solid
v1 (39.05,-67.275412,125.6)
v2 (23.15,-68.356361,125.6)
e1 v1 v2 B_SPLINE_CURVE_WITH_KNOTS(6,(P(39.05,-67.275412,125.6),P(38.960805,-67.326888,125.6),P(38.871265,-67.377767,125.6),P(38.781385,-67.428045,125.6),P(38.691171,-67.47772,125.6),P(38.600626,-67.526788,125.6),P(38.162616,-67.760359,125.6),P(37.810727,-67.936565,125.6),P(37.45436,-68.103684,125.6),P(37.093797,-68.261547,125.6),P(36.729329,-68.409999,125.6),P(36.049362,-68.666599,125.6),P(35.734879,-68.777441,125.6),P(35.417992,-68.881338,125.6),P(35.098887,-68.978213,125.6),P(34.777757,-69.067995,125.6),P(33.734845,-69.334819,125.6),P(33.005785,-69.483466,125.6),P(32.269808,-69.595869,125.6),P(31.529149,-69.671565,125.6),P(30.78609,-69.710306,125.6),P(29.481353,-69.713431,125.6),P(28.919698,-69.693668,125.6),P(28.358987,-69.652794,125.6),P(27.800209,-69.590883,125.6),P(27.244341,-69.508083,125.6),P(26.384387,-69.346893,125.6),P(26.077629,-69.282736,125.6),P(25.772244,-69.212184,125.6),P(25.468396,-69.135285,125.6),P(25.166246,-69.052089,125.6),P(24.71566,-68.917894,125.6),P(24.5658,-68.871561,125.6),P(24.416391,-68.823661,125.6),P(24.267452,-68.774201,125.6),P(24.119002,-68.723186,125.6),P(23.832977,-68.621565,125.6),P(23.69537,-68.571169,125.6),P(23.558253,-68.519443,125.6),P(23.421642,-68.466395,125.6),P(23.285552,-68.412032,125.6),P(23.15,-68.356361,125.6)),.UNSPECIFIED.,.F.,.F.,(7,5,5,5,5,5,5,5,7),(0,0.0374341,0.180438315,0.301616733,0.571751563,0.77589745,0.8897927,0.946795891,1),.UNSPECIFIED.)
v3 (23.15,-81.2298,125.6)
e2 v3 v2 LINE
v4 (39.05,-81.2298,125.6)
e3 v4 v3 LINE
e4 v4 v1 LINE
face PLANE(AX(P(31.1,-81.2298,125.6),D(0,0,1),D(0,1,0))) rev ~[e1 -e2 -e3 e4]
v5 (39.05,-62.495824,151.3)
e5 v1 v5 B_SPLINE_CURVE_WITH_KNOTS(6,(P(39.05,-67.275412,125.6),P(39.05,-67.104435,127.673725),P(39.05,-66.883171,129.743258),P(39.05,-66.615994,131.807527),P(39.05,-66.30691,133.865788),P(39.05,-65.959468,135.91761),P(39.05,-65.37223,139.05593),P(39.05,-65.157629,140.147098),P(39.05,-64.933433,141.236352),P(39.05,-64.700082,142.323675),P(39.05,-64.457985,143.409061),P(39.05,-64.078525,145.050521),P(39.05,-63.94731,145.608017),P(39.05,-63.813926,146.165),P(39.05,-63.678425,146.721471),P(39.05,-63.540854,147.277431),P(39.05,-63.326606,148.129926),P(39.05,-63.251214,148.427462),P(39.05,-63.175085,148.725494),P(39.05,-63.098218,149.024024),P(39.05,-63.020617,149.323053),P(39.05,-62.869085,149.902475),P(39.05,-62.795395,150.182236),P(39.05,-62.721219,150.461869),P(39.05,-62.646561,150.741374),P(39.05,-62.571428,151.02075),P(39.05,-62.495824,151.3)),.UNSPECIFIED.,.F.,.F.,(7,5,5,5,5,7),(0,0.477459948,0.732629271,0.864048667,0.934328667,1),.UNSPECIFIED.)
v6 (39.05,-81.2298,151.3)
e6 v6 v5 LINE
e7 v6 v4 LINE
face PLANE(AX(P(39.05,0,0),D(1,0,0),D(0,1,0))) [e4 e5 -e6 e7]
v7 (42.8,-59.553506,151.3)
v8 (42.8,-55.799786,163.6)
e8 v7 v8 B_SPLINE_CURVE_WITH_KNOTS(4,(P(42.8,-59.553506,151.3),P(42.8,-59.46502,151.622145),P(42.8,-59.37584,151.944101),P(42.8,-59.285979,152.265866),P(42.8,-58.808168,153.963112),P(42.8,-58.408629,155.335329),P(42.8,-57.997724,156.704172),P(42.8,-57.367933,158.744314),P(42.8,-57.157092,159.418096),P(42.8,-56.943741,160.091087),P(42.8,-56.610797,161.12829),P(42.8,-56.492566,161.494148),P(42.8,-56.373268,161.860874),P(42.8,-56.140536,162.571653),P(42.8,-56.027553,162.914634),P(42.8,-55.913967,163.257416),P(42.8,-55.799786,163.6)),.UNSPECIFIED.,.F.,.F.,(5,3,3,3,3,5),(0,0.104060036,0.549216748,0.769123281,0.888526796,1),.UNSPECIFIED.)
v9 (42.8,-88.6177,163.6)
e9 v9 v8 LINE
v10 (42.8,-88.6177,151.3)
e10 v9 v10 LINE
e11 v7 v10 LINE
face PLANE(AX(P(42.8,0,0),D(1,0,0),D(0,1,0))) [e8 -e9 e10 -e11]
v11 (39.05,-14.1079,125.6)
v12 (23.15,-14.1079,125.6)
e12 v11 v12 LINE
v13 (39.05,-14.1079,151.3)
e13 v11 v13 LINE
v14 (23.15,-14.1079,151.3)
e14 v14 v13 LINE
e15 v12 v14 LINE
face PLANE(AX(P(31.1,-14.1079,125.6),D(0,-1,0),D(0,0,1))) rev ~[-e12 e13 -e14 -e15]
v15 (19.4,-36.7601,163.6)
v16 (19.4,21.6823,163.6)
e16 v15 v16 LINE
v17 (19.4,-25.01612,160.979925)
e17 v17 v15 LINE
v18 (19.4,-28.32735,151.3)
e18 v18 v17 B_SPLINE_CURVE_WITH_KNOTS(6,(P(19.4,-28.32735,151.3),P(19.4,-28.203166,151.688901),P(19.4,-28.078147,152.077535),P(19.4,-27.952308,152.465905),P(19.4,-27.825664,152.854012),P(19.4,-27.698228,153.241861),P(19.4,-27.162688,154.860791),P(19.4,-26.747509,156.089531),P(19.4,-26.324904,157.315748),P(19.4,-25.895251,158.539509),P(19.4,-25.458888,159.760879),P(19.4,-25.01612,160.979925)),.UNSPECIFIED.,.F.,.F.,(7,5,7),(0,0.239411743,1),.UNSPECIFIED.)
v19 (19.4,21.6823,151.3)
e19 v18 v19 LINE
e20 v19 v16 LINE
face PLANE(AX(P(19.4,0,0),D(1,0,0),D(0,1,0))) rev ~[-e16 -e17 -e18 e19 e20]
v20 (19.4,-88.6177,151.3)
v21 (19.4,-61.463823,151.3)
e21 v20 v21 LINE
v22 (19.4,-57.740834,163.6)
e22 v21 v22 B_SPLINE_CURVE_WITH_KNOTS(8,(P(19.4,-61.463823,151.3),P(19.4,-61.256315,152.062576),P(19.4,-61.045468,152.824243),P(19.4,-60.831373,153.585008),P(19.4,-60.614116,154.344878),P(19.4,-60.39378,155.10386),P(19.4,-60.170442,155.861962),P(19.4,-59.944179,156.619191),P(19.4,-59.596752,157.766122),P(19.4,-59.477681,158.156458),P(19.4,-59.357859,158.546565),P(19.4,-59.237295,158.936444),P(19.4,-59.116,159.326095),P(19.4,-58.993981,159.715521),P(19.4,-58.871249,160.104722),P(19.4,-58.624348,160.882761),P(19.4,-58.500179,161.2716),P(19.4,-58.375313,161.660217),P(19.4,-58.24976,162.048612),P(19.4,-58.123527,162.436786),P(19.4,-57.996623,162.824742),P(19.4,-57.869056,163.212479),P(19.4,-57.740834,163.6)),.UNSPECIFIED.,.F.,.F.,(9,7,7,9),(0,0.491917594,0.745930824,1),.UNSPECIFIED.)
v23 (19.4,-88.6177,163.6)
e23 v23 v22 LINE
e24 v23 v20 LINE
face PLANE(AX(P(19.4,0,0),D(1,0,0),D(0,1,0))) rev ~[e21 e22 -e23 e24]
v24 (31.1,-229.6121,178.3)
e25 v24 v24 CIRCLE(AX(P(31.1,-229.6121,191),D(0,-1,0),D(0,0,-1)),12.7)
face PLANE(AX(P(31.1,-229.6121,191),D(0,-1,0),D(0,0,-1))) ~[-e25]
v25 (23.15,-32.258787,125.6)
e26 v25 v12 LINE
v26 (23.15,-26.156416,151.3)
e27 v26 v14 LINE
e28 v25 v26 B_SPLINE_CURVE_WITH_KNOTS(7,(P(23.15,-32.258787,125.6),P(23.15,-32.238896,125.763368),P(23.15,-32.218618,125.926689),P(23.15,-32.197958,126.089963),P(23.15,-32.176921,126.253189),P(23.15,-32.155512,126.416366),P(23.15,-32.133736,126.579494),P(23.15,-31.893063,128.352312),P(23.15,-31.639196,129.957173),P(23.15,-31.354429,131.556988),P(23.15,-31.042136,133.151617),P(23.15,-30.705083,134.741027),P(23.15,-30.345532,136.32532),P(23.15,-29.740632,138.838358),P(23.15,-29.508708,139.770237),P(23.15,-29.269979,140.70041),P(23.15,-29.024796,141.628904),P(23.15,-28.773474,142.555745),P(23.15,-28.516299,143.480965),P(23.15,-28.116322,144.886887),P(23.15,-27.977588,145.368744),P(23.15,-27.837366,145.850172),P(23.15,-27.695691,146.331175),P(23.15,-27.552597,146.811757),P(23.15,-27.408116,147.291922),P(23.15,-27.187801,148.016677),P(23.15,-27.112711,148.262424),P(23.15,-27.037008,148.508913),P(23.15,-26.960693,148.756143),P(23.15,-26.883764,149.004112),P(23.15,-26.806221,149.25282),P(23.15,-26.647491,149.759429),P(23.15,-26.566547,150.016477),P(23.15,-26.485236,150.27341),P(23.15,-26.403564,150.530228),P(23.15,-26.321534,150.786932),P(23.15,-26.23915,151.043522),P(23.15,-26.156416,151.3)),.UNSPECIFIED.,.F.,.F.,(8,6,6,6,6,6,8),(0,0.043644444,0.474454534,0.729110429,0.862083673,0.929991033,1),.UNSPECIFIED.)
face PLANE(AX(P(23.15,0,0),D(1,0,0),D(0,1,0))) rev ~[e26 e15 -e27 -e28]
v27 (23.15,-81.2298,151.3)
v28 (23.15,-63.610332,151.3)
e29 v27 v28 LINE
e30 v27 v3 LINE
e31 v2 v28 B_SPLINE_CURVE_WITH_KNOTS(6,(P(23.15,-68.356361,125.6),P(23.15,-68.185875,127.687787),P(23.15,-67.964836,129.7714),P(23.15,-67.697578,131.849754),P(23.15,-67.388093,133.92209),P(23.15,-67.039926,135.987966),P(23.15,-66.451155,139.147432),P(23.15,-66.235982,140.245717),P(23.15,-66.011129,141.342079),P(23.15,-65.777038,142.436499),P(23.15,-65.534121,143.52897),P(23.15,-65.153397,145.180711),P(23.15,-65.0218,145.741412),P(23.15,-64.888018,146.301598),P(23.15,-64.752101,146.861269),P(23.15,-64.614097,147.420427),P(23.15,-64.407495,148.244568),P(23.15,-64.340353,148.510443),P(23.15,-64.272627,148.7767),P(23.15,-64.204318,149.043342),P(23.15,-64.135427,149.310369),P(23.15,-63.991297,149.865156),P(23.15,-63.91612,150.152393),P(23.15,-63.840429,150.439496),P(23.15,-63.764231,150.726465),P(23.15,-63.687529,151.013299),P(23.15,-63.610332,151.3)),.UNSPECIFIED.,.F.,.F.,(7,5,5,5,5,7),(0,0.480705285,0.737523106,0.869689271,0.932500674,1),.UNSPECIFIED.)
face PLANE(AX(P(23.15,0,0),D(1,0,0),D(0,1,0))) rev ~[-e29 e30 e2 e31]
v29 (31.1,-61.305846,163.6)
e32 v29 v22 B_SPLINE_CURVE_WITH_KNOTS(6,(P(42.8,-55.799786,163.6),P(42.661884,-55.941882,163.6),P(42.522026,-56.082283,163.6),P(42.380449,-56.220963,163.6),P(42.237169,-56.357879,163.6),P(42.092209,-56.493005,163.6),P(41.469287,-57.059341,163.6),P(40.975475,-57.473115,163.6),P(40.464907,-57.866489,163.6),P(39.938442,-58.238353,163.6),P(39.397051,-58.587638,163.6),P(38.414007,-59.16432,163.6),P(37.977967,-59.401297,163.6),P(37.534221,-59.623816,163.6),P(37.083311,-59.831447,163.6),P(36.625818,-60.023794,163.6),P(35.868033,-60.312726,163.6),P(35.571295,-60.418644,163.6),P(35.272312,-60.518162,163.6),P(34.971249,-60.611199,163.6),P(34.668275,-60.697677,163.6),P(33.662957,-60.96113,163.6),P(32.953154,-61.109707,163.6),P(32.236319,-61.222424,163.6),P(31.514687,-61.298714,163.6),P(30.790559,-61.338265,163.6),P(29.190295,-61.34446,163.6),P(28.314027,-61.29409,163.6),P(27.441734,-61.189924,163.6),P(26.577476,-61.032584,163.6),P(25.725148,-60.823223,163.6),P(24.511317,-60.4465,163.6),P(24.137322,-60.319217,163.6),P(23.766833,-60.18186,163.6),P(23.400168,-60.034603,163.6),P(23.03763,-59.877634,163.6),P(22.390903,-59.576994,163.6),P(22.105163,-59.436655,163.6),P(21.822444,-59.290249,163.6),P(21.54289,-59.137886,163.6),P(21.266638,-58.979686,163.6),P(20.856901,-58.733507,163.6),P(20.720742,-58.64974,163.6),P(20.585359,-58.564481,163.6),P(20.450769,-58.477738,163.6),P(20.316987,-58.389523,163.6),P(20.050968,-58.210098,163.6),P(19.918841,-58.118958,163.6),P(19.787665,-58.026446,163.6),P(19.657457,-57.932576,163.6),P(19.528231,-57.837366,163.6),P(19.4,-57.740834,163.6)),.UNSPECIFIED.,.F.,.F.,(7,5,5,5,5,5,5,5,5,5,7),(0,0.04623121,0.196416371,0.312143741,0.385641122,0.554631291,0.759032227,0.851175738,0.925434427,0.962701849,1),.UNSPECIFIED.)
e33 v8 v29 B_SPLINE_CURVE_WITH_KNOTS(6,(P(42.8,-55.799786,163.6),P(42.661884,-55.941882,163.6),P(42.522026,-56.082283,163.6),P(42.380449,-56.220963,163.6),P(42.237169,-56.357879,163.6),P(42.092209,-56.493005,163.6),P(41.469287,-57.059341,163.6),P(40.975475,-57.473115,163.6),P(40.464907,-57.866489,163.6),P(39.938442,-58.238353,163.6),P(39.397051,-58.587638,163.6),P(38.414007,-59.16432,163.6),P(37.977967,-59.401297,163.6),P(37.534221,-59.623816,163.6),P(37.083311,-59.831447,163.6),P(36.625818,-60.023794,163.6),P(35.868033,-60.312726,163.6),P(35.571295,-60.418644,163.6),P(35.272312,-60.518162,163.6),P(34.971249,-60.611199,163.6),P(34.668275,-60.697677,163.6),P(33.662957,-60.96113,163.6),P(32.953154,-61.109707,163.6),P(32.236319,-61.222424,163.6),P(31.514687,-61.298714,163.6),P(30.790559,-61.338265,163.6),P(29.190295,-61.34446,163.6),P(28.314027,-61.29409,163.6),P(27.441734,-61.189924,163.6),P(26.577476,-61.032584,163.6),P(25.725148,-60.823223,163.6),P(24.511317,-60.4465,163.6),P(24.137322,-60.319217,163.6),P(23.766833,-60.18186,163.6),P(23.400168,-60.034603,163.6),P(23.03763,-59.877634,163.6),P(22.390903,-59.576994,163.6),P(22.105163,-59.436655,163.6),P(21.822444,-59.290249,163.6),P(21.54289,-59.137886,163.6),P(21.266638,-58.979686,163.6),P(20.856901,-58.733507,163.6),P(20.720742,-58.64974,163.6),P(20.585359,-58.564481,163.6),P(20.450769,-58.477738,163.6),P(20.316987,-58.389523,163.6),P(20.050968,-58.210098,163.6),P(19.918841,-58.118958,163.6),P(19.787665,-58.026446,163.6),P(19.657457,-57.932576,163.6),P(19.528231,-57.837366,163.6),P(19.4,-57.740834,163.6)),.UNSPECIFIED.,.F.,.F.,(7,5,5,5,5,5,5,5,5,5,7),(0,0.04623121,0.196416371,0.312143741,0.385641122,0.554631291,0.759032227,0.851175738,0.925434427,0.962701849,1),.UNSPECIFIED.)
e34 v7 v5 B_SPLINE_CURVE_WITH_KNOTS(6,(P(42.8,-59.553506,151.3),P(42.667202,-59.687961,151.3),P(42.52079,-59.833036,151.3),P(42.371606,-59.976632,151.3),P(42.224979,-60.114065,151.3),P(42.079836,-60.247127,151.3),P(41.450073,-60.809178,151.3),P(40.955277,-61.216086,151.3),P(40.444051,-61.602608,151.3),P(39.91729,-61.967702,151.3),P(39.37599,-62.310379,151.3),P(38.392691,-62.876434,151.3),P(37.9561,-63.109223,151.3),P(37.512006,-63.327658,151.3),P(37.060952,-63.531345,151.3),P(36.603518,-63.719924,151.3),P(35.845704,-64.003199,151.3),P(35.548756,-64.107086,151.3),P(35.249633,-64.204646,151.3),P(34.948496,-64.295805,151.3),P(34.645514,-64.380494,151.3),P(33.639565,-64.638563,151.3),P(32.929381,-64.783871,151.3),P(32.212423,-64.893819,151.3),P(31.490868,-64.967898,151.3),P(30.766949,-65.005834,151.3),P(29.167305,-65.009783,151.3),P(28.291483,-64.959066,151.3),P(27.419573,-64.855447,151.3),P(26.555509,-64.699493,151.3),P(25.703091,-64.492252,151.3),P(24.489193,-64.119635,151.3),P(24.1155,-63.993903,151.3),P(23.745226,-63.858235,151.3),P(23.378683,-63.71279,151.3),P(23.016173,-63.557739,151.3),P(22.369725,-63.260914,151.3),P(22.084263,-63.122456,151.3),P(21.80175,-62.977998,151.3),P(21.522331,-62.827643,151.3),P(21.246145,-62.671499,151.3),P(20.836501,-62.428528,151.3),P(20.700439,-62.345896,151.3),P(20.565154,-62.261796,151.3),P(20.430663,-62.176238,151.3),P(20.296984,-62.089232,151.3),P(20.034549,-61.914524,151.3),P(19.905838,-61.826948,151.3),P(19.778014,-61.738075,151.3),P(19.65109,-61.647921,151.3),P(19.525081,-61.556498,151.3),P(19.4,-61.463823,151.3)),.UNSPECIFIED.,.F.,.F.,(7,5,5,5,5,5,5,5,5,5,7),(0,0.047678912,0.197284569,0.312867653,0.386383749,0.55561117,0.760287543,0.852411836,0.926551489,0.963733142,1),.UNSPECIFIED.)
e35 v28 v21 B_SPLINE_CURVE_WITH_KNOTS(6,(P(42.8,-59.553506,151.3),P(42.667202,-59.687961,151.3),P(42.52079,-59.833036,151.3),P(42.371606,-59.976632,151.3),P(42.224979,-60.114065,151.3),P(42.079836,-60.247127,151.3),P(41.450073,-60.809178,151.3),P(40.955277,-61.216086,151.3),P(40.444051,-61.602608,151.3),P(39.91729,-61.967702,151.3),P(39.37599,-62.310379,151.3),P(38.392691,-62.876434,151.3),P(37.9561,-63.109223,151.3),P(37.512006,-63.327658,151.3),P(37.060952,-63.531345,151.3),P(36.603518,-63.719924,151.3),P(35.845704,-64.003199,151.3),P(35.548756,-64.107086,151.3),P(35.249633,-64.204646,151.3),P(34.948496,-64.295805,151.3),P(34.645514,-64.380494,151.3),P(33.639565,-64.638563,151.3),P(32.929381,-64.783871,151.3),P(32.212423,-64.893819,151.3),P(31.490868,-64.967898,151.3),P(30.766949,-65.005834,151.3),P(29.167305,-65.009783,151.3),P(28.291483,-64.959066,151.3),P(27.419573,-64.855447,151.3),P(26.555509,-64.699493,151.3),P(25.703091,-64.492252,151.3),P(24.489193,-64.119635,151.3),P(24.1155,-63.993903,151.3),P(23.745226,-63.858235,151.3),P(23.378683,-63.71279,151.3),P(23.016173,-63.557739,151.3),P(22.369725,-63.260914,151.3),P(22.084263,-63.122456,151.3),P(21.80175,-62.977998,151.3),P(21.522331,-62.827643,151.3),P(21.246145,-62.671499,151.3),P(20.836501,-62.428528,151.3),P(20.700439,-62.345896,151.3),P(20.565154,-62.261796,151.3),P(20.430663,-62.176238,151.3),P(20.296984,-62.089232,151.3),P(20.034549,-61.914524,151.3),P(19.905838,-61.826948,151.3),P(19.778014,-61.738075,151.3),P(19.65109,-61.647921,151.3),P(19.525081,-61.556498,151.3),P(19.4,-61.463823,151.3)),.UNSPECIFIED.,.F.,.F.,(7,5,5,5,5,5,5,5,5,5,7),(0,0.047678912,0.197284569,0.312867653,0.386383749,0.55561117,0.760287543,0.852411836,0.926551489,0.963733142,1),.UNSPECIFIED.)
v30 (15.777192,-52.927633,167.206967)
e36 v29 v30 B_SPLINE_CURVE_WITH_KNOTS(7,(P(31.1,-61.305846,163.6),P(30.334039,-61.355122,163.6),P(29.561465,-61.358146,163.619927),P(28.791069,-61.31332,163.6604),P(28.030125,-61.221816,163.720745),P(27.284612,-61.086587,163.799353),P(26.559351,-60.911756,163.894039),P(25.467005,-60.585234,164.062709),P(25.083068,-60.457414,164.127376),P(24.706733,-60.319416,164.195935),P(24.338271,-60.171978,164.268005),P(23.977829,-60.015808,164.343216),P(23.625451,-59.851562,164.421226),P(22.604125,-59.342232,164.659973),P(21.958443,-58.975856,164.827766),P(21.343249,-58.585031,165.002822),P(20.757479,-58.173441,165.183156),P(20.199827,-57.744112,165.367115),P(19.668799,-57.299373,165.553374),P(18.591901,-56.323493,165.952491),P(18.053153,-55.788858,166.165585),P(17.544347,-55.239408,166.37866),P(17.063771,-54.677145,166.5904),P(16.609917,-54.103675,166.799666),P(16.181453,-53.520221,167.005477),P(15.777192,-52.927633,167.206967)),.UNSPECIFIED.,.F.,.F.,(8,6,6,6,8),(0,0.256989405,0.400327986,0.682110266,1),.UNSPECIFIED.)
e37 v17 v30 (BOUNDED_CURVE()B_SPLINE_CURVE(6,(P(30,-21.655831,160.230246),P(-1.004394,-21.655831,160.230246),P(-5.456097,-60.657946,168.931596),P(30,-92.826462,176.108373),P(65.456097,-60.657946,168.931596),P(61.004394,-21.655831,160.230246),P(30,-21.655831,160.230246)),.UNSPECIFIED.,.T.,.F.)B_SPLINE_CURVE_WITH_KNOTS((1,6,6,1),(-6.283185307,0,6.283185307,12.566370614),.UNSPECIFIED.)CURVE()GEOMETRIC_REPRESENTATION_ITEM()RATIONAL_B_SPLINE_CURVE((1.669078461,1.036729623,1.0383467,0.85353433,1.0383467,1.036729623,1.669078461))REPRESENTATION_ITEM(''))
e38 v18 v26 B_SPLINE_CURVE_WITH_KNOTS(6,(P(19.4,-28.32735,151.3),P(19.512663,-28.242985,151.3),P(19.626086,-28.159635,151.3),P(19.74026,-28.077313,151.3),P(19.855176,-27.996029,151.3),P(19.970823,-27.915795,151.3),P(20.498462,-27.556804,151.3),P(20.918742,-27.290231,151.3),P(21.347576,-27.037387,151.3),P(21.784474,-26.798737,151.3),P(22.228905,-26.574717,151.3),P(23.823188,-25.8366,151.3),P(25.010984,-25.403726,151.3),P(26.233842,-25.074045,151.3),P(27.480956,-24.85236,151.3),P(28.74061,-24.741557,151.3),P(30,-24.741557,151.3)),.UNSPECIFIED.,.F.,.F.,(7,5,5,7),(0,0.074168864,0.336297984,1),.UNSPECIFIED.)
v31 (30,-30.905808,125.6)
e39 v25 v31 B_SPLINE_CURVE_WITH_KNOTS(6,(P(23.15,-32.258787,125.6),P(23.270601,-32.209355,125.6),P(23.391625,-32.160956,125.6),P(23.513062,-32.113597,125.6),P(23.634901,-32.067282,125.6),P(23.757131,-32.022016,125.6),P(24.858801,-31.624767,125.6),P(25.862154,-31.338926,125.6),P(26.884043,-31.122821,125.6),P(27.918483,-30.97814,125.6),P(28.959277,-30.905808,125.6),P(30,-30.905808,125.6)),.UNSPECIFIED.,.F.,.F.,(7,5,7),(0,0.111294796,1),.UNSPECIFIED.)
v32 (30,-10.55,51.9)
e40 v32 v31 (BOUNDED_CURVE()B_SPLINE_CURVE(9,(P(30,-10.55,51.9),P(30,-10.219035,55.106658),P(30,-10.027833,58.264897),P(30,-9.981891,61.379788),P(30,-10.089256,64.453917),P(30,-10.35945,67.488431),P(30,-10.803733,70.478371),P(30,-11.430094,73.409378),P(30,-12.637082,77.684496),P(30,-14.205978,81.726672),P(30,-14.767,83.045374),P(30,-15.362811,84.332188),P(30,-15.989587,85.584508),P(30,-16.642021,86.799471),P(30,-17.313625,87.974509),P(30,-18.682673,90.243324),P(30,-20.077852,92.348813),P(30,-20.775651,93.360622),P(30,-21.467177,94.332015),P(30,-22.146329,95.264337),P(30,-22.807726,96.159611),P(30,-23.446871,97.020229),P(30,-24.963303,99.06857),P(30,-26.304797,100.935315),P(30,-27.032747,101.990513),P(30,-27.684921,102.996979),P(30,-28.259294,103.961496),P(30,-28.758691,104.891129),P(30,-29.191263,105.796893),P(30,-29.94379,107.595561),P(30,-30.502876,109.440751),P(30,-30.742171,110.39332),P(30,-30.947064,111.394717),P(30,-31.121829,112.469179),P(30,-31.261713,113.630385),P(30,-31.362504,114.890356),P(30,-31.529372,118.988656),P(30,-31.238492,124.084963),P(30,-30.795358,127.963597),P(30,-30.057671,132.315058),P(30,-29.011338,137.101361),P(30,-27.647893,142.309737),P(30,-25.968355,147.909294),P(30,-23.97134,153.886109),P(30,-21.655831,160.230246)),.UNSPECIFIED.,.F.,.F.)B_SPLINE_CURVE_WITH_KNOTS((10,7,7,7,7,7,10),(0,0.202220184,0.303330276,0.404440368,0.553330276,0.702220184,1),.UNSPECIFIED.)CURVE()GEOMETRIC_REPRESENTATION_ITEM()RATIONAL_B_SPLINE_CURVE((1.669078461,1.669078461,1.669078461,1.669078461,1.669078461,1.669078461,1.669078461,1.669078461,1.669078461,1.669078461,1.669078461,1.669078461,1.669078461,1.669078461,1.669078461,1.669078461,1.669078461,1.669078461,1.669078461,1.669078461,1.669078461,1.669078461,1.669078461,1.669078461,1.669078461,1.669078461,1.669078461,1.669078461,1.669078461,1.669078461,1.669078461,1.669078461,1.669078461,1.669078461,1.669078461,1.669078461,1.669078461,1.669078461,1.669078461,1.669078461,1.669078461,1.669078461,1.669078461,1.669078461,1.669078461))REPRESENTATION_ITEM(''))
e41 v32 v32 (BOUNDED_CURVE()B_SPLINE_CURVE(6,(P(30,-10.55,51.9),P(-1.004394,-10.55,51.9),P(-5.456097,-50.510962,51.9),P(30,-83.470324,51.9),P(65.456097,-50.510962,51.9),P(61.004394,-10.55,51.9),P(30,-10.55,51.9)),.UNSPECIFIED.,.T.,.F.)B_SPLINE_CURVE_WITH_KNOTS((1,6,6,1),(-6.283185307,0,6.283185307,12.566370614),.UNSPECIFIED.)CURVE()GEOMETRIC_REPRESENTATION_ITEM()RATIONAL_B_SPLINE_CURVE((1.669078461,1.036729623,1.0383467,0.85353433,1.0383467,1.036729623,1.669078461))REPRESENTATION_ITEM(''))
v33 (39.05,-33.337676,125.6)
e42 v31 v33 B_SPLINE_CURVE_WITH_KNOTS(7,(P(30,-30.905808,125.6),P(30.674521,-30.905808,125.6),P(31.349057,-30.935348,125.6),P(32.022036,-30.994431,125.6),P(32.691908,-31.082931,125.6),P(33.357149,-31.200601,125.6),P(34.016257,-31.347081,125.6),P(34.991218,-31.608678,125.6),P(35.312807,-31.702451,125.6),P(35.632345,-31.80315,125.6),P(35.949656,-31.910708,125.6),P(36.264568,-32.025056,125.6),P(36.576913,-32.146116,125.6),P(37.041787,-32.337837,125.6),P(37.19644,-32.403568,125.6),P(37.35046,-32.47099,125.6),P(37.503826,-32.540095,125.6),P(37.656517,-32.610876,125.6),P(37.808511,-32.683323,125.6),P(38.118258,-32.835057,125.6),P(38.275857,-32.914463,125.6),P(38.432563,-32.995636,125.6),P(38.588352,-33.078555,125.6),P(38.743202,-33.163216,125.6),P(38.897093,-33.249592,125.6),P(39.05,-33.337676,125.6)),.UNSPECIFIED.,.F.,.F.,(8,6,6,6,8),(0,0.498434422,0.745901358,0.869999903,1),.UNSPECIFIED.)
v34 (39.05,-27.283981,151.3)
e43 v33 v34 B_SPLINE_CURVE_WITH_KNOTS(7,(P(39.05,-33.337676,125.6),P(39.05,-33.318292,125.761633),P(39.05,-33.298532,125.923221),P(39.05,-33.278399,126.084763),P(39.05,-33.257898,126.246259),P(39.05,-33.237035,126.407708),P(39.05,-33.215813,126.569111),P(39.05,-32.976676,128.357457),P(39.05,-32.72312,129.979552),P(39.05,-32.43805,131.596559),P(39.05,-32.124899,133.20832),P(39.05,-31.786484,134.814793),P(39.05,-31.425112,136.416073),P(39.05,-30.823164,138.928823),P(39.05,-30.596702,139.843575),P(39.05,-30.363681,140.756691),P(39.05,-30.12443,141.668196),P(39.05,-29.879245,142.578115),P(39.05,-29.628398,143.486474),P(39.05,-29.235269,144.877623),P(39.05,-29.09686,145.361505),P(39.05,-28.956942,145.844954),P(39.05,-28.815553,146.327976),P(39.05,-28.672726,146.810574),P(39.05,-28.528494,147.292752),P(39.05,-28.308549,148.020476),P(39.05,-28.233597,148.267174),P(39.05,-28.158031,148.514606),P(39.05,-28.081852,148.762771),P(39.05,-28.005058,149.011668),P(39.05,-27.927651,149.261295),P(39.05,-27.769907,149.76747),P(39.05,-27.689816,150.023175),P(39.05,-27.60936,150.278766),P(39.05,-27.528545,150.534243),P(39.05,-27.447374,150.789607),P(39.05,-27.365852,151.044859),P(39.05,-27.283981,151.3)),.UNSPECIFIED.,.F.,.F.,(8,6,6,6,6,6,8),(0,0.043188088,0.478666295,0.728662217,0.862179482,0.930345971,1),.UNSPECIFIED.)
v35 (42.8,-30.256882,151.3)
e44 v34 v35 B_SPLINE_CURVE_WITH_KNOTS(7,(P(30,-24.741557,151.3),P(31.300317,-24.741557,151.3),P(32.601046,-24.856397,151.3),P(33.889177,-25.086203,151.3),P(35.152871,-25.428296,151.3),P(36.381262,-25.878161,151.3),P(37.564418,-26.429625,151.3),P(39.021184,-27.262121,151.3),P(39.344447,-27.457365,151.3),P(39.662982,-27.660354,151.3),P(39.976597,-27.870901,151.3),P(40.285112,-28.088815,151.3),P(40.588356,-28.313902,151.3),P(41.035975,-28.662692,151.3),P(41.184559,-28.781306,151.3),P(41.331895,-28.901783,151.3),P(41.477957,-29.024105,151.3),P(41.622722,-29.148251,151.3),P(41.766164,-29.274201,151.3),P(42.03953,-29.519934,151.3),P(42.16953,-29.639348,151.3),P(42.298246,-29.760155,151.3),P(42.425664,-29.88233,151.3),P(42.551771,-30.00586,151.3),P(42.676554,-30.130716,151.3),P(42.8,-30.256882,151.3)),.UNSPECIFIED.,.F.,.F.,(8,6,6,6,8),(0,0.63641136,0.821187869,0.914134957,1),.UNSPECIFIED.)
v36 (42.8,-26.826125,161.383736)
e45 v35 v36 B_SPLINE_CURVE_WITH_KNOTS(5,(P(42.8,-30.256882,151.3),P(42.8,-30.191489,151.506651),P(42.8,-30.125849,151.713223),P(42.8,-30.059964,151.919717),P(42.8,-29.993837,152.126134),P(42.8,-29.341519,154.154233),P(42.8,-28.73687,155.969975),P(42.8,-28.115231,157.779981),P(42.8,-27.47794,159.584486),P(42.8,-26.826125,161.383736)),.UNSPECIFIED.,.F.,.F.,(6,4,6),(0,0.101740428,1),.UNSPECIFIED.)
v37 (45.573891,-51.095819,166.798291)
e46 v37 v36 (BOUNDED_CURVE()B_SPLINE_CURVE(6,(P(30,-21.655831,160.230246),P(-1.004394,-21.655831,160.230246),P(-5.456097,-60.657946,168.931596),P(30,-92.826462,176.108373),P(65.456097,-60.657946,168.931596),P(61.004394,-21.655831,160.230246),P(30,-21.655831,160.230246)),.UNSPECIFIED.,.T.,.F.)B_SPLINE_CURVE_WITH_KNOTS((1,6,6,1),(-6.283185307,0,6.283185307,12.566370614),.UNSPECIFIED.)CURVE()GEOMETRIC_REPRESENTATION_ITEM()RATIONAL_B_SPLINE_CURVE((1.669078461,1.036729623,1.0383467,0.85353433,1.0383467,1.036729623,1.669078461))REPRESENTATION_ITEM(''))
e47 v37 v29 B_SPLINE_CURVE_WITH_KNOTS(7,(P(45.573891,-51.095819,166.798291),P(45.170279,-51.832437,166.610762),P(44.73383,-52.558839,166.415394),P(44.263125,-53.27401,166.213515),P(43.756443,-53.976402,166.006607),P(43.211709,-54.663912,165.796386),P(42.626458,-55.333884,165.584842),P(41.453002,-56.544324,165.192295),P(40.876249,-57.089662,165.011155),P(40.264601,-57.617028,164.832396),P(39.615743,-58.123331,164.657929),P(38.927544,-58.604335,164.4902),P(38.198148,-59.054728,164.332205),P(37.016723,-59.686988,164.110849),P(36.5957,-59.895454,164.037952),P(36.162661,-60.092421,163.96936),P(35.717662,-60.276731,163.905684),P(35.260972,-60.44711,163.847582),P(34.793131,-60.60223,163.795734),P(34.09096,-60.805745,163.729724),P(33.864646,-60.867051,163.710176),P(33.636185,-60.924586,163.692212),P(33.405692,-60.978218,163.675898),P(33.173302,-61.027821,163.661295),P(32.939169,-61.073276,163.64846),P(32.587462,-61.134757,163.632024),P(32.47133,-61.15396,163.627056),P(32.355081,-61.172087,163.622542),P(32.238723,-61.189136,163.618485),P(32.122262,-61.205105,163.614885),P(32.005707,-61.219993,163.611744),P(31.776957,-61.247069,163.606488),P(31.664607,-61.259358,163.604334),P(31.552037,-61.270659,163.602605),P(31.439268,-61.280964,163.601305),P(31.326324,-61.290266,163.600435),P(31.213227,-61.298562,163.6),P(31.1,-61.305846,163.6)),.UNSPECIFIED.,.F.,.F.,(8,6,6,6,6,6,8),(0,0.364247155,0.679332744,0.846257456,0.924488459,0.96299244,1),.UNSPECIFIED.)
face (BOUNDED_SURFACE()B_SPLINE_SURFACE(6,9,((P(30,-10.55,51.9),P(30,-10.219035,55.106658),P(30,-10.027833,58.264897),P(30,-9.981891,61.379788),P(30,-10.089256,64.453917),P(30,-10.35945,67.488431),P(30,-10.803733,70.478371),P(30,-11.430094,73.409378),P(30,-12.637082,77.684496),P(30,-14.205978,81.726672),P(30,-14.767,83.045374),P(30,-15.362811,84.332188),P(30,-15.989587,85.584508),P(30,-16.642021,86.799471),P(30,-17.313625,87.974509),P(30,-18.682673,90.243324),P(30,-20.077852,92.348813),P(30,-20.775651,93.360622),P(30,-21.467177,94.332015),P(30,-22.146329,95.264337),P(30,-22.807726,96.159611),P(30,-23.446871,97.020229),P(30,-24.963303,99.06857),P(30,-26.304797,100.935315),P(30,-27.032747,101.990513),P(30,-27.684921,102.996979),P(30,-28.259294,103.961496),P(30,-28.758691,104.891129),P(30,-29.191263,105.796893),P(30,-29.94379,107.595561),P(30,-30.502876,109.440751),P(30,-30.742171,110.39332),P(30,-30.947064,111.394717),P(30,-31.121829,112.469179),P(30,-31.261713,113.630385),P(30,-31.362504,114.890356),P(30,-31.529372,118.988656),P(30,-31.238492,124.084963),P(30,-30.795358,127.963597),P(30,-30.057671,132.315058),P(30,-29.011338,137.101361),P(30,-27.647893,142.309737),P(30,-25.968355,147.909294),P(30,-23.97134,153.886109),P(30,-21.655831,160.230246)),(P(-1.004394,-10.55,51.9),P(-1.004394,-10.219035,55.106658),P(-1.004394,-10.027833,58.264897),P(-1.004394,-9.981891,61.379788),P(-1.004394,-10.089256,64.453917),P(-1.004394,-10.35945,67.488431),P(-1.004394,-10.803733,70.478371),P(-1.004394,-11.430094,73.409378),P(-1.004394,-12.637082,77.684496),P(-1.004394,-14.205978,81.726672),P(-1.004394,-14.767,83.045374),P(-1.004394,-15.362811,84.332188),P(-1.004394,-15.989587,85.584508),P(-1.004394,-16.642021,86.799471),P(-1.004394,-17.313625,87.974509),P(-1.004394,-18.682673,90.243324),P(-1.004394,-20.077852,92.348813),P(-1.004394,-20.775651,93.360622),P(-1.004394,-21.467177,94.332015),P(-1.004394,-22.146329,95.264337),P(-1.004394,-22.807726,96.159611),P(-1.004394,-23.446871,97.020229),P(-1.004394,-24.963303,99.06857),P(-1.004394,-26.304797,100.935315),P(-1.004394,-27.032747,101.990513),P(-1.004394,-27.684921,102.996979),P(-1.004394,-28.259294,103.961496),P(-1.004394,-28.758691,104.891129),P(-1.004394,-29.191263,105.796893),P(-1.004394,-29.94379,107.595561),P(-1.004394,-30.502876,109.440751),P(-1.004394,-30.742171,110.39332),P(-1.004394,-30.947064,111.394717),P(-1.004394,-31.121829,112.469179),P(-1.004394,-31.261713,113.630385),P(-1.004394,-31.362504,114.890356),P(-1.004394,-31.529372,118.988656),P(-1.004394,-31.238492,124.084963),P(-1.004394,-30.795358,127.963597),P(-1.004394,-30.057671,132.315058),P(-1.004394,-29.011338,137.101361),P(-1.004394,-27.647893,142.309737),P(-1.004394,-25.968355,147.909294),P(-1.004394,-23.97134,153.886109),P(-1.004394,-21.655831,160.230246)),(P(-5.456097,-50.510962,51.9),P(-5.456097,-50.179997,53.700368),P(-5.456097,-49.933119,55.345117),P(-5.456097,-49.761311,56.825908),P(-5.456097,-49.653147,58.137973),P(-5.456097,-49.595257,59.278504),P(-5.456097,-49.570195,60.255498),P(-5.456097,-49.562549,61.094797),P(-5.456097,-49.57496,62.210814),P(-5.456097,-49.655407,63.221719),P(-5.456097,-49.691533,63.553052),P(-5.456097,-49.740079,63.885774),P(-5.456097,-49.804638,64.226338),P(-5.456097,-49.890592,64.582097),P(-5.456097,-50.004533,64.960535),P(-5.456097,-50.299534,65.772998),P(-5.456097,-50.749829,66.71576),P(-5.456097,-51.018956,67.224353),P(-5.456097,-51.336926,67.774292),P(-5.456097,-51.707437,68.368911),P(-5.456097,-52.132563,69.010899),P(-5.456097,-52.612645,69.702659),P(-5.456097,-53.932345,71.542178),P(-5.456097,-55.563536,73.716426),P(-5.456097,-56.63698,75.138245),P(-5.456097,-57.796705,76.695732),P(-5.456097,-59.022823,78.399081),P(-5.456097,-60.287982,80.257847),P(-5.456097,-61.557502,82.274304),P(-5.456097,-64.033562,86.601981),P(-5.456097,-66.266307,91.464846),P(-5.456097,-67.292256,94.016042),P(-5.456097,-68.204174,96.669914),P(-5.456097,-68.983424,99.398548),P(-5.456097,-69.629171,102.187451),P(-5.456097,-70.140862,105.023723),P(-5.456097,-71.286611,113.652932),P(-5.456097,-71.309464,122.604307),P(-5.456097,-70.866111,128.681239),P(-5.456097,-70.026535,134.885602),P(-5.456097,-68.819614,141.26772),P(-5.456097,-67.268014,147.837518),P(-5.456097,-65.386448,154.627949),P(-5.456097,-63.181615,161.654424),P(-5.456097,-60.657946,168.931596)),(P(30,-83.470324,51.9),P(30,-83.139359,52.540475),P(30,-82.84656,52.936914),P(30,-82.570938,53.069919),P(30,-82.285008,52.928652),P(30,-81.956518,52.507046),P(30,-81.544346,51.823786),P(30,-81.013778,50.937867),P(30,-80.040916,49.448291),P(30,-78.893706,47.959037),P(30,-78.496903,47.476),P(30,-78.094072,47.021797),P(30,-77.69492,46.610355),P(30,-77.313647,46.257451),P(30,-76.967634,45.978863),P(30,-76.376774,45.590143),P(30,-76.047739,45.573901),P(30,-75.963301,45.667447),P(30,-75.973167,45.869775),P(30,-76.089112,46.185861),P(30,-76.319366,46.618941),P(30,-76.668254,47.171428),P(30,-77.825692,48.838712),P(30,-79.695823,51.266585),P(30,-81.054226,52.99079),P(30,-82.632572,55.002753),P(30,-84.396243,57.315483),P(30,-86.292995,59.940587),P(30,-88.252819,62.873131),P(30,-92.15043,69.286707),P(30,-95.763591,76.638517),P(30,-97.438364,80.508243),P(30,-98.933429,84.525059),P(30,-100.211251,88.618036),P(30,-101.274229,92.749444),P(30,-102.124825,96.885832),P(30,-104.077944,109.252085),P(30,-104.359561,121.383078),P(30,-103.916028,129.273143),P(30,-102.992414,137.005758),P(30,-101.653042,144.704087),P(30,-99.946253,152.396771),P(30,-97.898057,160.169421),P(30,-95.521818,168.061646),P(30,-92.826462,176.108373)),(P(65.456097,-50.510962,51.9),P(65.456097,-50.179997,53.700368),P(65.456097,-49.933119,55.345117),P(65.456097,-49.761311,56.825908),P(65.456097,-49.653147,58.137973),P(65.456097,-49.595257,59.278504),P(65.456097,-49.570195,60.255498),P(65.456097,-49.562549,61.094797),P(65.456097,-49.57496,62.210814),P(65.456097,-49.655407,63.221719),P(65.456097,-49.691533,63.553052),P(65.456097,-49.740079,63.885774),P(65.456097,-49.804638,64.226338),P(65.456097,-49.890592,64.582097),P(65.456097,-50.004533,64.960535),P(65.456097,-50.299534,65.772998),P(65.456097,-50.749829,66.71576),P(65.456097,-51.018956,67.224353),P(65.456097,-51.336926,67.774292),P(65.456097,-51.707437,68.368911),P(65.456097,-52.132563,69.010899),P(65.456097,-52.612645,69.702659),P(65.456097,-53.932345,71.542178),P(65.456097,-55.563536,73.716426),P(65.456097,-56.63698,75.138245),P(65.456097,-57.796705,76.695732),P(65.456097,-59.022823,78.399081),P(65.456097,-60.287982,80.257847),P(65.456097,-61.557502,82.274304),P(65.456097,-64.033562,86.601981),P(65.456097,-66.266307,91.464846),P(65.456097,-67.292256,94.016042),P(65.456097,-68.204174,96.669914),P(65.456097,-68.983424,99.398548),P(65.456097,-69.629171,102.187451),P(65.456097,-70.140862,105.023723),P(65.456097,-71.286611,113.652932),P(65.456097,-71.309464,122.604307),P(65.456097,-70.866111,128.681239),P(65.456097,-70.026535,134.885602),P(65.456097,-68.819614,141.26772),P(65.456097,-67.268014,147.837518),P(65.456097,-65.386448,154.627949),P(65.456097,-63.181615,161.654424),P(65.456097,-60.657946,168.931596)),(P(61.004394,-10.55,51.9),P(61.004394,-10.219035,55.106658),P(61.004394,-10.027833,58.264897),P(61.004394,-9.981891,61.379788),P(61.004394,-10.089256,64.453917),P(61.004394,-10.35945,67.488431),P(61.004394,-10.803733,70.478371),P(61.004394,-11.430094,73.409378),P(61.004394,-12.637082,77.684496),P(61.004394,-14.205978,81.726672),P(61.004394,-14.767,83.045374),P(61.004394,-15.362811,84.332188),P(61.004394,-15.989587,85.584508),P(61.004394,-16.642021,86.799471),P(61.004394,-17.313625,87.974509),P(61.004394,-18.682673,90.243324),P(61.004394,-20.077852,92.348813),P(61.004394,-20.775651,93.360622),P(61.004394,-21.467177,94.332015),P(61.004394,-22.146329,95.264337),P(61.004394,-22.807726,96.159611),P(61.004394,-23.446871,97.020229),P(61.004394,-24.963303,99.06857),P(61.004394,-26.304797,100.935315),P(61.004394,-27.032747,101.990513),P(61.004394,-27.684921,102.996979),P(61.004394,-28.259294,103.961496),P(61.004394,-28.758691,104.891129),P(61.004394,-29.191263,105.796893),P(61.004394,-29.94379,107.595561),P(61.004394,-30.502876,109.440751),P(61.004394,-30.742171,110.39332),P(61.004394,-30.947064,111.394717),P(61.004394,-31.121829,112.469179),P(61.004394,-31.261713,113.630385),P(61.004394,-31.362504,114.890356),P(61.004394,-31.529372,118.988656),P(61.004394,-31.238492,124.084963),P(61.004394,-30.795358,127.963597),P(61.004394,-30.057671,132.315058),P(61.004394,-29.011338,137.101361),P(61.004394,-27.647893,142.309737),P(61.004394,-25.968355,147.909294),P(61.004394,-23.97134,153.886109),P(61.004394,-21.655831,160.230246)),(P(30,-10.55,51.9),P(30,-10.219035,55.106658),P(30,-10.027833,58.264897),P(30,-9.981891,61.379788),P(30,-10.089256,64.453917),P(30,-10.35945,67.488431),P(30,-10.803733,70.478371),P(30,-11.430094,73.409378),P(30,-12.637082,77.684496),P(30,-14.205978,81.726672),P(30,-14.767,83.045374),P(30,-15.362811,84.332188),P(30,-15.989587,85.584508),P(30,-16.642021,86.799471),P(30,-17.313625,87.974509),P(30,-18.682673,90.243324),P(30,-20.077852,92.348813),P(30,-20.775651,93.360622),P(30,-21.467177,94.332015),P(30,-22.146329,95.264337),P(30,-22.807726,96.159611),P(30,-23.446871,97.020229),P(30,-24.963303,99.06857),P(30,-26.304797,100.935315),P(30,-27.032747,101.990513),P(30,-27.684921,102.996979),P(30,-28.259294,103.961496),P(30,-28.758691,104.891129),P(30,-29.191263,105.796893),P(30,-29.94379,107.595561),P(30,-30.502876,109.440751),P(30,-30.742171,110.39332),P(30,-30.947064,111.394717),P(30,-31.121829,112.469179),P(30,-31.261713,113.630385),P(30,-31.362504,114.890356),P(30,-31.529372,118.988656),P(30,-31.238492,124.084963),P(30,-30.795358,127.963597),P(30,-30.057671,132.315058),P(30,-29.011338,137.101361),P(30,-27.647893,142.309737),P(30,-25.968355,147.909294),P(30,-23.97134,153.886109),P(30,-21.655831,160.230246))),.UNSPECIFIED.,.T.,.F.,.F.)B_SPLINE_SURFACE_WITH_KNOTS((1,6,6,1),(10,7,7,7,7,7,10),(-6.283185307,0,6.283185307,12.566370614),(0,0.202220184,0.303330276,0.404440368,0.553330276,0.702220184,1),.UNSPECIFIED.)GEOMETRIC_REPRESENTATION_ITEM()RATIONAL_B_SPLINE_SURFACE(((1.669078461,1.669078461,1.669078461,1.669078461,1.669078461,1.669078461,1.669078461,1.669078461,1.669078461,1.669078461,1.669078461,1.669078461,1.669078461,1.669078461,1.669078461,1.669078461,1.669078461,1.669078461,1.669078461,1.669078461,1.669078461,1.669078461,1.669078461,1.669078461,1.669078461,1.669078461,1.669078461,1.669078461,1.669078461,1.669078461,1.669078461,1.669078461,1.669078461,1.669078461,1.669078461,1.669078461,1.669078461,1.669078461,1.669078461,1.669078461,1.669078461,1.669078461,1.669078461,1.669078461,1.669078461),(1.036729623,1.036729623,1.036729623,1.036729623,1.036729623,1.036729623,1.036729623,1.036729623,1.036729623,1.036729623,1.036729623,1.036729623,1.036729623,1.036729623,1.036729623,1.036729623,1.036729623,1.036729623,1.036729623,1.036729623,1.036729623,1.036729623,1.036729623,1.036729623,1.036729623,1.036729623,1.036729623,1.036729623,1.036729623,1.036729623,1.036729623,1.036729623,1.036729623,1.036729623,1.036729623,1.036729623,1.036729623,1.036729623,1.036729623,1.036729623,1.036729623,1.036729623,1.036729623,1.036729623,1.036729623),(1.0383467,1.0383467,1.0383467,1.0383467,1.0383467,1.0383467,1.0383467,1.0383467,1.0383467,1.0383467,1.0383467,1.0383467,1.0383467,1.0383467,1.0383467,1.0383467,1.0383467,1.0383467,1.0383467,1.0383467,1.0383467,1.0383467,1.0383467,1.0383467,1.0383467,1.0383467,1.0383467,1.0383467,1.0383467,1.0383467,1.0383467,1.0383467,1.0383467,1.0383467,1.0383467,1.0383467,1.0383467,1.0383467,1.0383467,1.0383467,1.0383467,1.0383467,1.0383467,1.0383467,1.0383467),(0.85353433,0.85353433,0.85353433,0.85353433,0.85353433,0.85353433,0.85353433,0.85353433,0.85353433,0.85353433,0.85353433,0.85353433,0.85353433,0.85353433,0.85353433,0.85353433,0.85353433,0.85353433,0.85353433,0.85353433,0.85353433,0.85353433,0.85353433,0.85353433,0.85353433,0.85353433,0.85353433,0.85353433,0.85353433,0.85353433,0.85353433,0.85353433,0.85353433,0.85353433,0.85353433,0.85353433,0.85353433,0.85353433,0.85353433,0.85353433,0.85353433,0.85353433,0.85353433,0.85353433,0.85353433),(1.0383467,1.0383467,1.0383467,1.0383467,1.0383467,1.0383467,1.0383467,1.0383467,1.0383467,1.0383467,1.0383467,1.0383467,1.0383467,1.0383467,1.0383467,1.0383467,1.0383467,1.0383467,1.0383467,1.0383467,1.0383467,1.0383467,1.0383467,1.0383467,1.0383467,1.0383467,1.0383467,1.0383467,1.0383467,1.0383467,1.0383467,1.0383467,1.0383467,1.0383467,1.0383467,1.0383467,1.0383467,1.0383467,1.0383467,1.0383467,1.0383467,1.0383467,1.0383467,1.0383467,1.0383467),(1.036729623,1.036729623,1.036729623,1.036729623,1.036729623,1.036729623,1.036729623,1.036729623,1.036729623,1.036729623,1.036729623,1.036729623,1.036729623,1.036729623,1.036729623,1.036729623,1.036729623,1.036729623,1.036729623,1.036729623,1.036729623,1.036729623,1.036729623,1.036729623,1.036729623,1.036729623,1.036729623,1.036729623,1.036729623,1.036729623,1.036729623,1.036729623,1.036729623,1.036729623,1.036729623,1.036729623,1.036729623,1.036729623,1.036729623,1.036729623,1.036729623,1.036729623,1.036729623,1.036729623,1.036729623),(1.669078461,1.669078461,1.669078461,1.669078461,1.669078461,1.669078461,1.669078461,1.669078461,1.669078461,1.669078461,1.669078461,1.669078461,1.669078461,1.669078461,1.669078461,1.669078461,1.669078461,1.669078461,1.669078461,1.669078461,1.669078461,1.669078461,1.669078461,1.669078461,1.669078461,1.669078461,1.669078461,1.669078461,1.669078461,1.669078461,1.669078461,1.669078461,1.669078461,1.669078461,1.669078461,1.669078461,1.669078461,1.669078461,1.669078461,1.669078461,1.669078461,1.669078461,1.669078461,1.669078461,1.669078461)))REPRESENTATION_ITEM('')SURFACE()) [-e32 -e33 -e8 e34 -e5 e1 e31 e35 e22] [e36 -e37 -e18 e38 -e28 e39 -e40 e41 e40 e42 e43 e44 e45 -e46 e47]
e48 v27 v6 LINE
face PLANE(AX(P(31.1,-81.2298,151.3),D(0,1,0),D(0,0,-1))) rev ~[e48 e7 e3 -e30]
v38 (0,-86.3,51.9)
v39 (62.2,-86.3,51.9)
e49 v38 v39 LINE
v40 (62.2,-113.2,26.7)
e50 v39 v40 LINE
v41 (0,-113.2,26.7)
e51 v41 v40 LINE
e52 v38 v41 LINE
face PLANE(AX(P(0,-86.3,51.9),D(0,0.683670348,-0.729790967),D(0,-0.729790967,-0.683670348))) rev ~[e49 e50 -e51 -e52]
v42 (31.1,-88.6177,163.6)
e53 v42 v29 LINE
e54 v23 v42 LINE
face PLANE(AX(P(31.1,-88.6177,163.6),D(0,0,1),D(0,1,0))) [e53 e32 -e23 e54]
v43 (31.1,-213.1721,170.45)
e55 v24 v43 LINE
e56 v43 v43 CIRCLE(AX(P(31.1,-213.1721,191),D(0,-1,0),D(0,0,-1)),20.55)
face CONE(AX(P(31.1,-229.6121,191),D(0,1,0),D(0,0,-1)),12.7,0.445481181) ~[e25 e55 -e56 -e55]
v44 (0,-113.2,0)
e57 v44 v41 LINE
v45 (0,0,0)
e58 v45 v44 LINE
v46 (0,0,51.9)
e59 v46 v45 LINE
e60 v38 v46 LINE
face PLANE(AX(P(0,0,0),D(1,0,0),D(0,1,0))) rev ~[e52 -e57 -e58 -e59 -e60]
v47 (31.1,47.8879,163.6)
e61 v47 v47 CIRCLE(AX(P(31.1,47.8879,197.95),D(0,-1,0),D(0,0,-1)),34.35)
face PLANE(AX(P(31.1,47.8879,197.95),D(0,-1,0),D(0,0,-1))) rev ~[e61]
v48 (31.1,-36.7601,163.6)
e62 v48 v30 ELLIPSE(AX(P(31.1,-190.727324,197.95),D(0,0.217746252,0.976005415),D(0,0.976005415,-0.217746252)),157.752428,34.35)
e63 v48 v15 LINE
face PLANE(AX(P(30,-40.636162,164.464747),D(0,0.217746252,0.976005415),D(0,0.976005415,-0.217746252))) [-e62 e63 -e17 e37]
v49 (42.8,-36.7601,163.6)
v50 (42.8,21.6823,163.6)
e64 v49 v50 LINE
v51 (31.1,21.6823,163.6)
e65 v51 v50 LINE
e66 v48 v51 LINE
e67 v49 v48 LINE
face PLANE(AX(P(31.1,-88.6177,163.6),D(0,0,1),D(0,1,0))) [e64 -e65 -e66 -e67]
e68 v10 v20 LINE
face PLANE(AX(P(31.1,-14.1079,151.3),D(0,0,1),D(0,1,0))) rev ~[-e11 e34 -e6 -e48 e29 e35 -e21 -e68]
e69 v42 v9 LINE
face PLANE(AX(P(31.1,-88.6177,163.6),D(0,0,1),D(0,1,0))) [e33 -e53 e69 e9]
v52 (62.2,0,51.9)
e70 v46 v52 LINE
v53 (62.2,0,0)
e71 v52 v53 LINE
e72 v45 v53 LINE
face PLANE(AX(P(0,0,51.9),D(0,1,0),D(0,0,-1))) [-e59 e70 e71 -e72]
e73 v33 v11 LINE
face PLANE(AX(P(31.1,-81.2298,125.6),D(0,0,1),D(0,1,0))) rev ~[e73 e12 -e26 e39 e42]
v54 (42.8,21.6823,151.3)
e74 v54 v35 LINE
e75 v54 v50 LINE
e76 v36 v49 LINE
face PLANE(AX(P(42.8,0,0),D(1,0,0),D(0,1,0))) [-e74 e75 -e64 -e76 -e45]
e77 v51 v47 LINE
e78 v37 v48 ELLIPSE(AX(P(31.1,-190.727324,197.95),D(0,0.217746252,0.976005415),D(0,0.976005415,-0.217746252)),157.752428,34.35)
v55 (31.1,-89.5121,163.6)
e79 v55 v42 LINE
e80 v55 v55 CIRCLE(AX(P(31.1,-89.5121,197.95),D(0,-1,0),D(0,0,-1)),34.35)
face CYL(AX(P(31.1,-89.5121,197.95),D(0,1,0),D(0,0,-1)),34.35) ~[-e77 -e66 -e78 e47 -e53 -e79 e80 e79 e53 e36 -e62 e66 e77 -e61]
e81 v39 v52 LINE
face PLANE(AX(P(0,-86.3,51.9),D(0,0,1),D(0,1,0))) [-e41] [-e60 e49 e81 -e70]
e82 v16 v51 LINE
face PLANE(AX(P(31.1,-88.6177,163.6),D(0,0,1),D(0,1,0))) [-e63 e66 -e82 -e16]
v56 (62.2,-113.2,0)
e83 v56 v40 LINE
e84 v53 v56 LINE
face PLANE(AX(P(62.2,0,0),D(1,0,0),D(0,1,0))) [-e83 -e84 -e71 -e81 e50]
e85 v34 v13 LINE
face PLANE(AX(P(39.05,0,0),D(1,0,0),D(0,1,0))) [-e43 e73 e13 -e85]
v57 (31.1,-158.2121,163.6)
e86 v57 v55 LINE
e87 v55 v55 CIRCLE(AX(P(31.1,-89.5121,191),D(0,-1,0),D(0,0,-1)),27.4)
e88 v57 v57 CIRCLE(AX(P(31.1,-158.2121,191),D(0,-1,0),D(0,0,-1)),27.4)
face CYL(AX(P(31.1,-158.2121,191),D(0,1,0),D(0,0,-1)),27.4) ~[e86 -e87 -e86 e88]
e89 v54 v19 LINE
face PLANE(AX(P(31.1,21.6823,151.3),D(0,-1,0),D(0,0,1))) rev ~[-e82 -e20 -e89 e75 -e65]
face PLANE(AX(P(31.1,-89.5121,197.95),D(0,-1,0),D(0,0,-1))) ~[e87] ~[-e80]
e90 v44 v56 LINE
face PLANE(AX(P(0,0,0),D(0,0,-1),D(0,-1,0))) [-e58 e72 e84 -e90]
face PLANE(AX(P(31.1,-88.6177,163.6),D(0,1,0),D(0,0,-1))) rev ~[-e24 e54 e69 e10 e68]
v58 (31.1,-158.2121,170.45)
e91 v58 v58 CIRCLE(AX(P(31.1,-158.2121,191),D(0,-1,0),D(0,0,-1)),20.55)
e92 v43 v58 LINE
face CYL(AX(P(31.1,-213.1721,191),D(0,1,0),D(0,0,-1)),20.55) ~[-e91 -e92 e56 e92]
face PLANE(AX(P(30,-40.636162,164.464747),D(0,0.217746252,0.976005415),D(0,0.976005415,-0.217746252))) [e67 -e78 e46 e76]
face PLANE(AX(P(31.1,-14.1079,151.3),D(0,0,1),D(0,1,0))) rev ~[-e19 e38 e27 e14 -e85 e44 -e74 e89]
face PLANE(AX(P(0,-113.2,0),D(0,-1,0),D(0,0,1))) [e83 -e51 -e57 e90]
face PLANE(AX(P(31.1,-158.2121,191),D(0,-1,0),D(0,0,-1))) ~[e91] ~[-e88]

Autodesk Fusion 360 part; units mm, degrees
sketch "Sketch2" plane through (0, 0, 0) normal (1, 0, 0) x (0, 1, 0)
  line L0 (0, 0) -> (-113.2, 0)
  line L1 (-113.2, 0) -> (-113.2, 26.7)
  line L2 (-86.3, 51.9) -> (0, 51.9)
  line L3 (0, 51.9) -> (0, 0)
  line L4 (-86.3, 51.9) -> (-113.2, 26.7)
  dimension "d1" = 113.2
  dimension "d2" = 51.9
  dimension "d3" = 86.3
  dimension "d4" = 26.7
extrude "Extrude1" add sketch "Sketch2" along normal blind 62.2 makes body 1
ref_plane "WorkPlane1" through (31.1, 0, 0) normal (1, 0, 0) x (0, 1, 0)
sketch "Sketch3" plane through (31.1, 0, 0) normal (1, 0, 0) x (0, 1, 0)
  line L0 (47.8879, 197.95) -> (-89.5121, 197.95)
  line L1 (-89.5121, 197.95) -> (-89.5121, 163.6)
  line L2 (-89.5121, 163.6) -> (47.8879, 163.6)
  line L3 (47.8879, 163.6) -> (47.8879, 197.95)
  line L4 (0, 51.9) -> (0, 0)
  line L5 (-86.3, 51.9) -> (0, 51.9)
  line L6 (-89.5121, 191) -> (-158.2121, 191)
  line L7 (-158.2121, 191) -> (-158.2121, 163.6)
  line L8 (-158.2121, 163.6) -> (-89.5121, 163.6)
  line L9 (-89.5121, 163.6) -> (-89.5121, 191)
  line L10 (-89.5121, 177.3) -> (-158.2121, 177.3) construction
  line L11 (-158.2121, 191) -> (-213.1721, 191)
  line L12 (-213.1721, 191) -> (-213.1721, 170.45)
  line L13 (-213.1721, 170.45) -> (-158.2121, 170.45)
  line L14 (-158.2121, 170.45) -> (-158.2121, 191)
  line L15 (-213.1721, 170.45) -> (-213.1721, 191)
  line L16 (-213.1721, 191) -> (-229.6121, 191)
  line L17 (-229.6121, 191) -> (-229.6121, 178.3)
  line L18 (-229.6121, 178.3) -> (-213.1721, 170.45)
  spline S0 degree 5 poles (-26.0256, 51.9) (-25.8292, 53.4797) (-25.5289, 56.5687) (-25.3557, 60.9909) (-25.6831, 66.462) (-27.0217, 72.5971) (-29.2397, 78.079) (-32.2063, 83.0319) (-35.6533, 87.7033) (-39.2005, 92.4405) (-42.4377, 97.6159) (-44.9819, 103.5758) (-46.5608, 110.5628) (-47.0265, 118.7038) (-46.3099, 128.0539) (-44.3968, 138.6184) (-41.9207, 148.0265) (-39.5419, 155.6097) (-37.7257, 160.8978) (-36.7601, 163.6) knots 0 0 0 0 0 0 0.066667 0.133333 0.2 0.266667 0.333333 0.4 0.466667 0.533333 0.6 0.666667 0.733333 0.8 0.866667 0.933333 1 1 1 1 1 1 construction
  line L19 (21.6823, 163.6) -> (-88.6177, 163.6)
  line L20 (-88.6177, 163.6) -> (-88.6177, 151.3)
  line L21 (-88.6177, 151.3) -> (21.6823, 151.3)
  line L22 (21.6823, 151.3) -> (21.6823, 163.6)
  line L23 (-14.1079, 151.3) -> (-81.2298, 151.3)
  line L24 (-81.2298, 151.3) -> (-81.2298, 125.6)
  line L25 (-81.2298, 125.6) -> (-14.1079, 125.6)
  line L26 (-14.1079, 125.6) -> (-14.1079, 151.3)
  point P0 (-30.5104, 80)
  point P1 (-43.5557, 100.5876)
  dimension "d8" = 111.7
  dimension "d9" = 34.35
  dimension "d10" = 137.4
  dimension "d11" = 68.7
  dimension "d12" = 27.4
  dimension "d13" = 20.55
  dimension "d14" = 54.96
  dimension "d15" = 20.55
  dimension "d16" = 12.7
  dimension "d17" = 16.44
  dimension "d18" = 110.3
  dimension "d19" = 12.3
  dimension "d20" = 25.7
revolve "Revolve1" add sketch "Sketch3" angle 360 about axis through (31.1, -89.5121, 191) along (0, -1, 0) separate body contours L1 L6 L7 L8 L9 L14 | L7 L11 L12 L13 L14 L15 | L12 L15 L16 L17 L18 makes body 2
revolve "Revolve2" add sketch "Sketch3" angle 360 about axis through (31.1, 47.8879, 197.95) along (0, -1, 0) contours L0 L1 L2 L3 L9 L19 bodies 2
extrude "Extrude2" add sketch "Sketch3" along normal mid plane 23.4 separate body contours L2 L19 L20 L21 L22 L23 makes body 3
extrude "Extrude3" add sketch "Sketch3" along normal mid plane 15.9 contours L21 L23 L24 L25 L26 bodies 3
sketch "Sketch5" plane through (0, 0, 51.9) normal (0, 0, 1) x (-1, 0, 0)
  line L0 (0, 0) -> (0, 86.3)
  line L1 (0, 86.3) -> (-62.2, 86.3)
  line L2 (-62.2, 86.3) -> (-62.2, 0)
  line L3 (-62.2, 0) -> (0, 0)
  ellipse E0 centre (-30, 30) end of major axis (-48.66, 30) minor radius 19.45
  line L4 (-11.34, 30) -> (-48.66, 30) construction
  line L5 (-30, 49.45) -> (-30, 10.55) construction
  dimension "d27" = 38.9
  dimension "d28" = 37.32
sweep "Sweep1" add profiles "Sketch5" path "Sketch3" along S0 section 1 contours E0 bodies 1 2 3
equation "d9 = ( 68.7 / 2 ) * 1 mm"
equation "d10 = ( 2 * 68.7 ) * 1 mm"
equation "d12 = ( 54.8 / 2 ) * 1 mm"
equation "d13 = ( 41.1 / 2 ) * 1 mm"
equation "d14 = ( ( 4 / 5 ) * 68.7 ) * 1 mm"
equation "d15 = ( 41.1 / 2 ) * 1 mm"
equation "d16 = ( 25.4 / 2 ) * 1 mm"
equation "d17 = ( 41.1 * ( 2 / 5 ) ) * 1 mm"
equation "d23 = ( 23.4 / 2 ) * 1 mm"
equation "d25 = ( 15.9 / 2 ) * 1 mm"
equation "d28 = ( ( 3 / 5 ) * 62.2 ) * 1 mm"
